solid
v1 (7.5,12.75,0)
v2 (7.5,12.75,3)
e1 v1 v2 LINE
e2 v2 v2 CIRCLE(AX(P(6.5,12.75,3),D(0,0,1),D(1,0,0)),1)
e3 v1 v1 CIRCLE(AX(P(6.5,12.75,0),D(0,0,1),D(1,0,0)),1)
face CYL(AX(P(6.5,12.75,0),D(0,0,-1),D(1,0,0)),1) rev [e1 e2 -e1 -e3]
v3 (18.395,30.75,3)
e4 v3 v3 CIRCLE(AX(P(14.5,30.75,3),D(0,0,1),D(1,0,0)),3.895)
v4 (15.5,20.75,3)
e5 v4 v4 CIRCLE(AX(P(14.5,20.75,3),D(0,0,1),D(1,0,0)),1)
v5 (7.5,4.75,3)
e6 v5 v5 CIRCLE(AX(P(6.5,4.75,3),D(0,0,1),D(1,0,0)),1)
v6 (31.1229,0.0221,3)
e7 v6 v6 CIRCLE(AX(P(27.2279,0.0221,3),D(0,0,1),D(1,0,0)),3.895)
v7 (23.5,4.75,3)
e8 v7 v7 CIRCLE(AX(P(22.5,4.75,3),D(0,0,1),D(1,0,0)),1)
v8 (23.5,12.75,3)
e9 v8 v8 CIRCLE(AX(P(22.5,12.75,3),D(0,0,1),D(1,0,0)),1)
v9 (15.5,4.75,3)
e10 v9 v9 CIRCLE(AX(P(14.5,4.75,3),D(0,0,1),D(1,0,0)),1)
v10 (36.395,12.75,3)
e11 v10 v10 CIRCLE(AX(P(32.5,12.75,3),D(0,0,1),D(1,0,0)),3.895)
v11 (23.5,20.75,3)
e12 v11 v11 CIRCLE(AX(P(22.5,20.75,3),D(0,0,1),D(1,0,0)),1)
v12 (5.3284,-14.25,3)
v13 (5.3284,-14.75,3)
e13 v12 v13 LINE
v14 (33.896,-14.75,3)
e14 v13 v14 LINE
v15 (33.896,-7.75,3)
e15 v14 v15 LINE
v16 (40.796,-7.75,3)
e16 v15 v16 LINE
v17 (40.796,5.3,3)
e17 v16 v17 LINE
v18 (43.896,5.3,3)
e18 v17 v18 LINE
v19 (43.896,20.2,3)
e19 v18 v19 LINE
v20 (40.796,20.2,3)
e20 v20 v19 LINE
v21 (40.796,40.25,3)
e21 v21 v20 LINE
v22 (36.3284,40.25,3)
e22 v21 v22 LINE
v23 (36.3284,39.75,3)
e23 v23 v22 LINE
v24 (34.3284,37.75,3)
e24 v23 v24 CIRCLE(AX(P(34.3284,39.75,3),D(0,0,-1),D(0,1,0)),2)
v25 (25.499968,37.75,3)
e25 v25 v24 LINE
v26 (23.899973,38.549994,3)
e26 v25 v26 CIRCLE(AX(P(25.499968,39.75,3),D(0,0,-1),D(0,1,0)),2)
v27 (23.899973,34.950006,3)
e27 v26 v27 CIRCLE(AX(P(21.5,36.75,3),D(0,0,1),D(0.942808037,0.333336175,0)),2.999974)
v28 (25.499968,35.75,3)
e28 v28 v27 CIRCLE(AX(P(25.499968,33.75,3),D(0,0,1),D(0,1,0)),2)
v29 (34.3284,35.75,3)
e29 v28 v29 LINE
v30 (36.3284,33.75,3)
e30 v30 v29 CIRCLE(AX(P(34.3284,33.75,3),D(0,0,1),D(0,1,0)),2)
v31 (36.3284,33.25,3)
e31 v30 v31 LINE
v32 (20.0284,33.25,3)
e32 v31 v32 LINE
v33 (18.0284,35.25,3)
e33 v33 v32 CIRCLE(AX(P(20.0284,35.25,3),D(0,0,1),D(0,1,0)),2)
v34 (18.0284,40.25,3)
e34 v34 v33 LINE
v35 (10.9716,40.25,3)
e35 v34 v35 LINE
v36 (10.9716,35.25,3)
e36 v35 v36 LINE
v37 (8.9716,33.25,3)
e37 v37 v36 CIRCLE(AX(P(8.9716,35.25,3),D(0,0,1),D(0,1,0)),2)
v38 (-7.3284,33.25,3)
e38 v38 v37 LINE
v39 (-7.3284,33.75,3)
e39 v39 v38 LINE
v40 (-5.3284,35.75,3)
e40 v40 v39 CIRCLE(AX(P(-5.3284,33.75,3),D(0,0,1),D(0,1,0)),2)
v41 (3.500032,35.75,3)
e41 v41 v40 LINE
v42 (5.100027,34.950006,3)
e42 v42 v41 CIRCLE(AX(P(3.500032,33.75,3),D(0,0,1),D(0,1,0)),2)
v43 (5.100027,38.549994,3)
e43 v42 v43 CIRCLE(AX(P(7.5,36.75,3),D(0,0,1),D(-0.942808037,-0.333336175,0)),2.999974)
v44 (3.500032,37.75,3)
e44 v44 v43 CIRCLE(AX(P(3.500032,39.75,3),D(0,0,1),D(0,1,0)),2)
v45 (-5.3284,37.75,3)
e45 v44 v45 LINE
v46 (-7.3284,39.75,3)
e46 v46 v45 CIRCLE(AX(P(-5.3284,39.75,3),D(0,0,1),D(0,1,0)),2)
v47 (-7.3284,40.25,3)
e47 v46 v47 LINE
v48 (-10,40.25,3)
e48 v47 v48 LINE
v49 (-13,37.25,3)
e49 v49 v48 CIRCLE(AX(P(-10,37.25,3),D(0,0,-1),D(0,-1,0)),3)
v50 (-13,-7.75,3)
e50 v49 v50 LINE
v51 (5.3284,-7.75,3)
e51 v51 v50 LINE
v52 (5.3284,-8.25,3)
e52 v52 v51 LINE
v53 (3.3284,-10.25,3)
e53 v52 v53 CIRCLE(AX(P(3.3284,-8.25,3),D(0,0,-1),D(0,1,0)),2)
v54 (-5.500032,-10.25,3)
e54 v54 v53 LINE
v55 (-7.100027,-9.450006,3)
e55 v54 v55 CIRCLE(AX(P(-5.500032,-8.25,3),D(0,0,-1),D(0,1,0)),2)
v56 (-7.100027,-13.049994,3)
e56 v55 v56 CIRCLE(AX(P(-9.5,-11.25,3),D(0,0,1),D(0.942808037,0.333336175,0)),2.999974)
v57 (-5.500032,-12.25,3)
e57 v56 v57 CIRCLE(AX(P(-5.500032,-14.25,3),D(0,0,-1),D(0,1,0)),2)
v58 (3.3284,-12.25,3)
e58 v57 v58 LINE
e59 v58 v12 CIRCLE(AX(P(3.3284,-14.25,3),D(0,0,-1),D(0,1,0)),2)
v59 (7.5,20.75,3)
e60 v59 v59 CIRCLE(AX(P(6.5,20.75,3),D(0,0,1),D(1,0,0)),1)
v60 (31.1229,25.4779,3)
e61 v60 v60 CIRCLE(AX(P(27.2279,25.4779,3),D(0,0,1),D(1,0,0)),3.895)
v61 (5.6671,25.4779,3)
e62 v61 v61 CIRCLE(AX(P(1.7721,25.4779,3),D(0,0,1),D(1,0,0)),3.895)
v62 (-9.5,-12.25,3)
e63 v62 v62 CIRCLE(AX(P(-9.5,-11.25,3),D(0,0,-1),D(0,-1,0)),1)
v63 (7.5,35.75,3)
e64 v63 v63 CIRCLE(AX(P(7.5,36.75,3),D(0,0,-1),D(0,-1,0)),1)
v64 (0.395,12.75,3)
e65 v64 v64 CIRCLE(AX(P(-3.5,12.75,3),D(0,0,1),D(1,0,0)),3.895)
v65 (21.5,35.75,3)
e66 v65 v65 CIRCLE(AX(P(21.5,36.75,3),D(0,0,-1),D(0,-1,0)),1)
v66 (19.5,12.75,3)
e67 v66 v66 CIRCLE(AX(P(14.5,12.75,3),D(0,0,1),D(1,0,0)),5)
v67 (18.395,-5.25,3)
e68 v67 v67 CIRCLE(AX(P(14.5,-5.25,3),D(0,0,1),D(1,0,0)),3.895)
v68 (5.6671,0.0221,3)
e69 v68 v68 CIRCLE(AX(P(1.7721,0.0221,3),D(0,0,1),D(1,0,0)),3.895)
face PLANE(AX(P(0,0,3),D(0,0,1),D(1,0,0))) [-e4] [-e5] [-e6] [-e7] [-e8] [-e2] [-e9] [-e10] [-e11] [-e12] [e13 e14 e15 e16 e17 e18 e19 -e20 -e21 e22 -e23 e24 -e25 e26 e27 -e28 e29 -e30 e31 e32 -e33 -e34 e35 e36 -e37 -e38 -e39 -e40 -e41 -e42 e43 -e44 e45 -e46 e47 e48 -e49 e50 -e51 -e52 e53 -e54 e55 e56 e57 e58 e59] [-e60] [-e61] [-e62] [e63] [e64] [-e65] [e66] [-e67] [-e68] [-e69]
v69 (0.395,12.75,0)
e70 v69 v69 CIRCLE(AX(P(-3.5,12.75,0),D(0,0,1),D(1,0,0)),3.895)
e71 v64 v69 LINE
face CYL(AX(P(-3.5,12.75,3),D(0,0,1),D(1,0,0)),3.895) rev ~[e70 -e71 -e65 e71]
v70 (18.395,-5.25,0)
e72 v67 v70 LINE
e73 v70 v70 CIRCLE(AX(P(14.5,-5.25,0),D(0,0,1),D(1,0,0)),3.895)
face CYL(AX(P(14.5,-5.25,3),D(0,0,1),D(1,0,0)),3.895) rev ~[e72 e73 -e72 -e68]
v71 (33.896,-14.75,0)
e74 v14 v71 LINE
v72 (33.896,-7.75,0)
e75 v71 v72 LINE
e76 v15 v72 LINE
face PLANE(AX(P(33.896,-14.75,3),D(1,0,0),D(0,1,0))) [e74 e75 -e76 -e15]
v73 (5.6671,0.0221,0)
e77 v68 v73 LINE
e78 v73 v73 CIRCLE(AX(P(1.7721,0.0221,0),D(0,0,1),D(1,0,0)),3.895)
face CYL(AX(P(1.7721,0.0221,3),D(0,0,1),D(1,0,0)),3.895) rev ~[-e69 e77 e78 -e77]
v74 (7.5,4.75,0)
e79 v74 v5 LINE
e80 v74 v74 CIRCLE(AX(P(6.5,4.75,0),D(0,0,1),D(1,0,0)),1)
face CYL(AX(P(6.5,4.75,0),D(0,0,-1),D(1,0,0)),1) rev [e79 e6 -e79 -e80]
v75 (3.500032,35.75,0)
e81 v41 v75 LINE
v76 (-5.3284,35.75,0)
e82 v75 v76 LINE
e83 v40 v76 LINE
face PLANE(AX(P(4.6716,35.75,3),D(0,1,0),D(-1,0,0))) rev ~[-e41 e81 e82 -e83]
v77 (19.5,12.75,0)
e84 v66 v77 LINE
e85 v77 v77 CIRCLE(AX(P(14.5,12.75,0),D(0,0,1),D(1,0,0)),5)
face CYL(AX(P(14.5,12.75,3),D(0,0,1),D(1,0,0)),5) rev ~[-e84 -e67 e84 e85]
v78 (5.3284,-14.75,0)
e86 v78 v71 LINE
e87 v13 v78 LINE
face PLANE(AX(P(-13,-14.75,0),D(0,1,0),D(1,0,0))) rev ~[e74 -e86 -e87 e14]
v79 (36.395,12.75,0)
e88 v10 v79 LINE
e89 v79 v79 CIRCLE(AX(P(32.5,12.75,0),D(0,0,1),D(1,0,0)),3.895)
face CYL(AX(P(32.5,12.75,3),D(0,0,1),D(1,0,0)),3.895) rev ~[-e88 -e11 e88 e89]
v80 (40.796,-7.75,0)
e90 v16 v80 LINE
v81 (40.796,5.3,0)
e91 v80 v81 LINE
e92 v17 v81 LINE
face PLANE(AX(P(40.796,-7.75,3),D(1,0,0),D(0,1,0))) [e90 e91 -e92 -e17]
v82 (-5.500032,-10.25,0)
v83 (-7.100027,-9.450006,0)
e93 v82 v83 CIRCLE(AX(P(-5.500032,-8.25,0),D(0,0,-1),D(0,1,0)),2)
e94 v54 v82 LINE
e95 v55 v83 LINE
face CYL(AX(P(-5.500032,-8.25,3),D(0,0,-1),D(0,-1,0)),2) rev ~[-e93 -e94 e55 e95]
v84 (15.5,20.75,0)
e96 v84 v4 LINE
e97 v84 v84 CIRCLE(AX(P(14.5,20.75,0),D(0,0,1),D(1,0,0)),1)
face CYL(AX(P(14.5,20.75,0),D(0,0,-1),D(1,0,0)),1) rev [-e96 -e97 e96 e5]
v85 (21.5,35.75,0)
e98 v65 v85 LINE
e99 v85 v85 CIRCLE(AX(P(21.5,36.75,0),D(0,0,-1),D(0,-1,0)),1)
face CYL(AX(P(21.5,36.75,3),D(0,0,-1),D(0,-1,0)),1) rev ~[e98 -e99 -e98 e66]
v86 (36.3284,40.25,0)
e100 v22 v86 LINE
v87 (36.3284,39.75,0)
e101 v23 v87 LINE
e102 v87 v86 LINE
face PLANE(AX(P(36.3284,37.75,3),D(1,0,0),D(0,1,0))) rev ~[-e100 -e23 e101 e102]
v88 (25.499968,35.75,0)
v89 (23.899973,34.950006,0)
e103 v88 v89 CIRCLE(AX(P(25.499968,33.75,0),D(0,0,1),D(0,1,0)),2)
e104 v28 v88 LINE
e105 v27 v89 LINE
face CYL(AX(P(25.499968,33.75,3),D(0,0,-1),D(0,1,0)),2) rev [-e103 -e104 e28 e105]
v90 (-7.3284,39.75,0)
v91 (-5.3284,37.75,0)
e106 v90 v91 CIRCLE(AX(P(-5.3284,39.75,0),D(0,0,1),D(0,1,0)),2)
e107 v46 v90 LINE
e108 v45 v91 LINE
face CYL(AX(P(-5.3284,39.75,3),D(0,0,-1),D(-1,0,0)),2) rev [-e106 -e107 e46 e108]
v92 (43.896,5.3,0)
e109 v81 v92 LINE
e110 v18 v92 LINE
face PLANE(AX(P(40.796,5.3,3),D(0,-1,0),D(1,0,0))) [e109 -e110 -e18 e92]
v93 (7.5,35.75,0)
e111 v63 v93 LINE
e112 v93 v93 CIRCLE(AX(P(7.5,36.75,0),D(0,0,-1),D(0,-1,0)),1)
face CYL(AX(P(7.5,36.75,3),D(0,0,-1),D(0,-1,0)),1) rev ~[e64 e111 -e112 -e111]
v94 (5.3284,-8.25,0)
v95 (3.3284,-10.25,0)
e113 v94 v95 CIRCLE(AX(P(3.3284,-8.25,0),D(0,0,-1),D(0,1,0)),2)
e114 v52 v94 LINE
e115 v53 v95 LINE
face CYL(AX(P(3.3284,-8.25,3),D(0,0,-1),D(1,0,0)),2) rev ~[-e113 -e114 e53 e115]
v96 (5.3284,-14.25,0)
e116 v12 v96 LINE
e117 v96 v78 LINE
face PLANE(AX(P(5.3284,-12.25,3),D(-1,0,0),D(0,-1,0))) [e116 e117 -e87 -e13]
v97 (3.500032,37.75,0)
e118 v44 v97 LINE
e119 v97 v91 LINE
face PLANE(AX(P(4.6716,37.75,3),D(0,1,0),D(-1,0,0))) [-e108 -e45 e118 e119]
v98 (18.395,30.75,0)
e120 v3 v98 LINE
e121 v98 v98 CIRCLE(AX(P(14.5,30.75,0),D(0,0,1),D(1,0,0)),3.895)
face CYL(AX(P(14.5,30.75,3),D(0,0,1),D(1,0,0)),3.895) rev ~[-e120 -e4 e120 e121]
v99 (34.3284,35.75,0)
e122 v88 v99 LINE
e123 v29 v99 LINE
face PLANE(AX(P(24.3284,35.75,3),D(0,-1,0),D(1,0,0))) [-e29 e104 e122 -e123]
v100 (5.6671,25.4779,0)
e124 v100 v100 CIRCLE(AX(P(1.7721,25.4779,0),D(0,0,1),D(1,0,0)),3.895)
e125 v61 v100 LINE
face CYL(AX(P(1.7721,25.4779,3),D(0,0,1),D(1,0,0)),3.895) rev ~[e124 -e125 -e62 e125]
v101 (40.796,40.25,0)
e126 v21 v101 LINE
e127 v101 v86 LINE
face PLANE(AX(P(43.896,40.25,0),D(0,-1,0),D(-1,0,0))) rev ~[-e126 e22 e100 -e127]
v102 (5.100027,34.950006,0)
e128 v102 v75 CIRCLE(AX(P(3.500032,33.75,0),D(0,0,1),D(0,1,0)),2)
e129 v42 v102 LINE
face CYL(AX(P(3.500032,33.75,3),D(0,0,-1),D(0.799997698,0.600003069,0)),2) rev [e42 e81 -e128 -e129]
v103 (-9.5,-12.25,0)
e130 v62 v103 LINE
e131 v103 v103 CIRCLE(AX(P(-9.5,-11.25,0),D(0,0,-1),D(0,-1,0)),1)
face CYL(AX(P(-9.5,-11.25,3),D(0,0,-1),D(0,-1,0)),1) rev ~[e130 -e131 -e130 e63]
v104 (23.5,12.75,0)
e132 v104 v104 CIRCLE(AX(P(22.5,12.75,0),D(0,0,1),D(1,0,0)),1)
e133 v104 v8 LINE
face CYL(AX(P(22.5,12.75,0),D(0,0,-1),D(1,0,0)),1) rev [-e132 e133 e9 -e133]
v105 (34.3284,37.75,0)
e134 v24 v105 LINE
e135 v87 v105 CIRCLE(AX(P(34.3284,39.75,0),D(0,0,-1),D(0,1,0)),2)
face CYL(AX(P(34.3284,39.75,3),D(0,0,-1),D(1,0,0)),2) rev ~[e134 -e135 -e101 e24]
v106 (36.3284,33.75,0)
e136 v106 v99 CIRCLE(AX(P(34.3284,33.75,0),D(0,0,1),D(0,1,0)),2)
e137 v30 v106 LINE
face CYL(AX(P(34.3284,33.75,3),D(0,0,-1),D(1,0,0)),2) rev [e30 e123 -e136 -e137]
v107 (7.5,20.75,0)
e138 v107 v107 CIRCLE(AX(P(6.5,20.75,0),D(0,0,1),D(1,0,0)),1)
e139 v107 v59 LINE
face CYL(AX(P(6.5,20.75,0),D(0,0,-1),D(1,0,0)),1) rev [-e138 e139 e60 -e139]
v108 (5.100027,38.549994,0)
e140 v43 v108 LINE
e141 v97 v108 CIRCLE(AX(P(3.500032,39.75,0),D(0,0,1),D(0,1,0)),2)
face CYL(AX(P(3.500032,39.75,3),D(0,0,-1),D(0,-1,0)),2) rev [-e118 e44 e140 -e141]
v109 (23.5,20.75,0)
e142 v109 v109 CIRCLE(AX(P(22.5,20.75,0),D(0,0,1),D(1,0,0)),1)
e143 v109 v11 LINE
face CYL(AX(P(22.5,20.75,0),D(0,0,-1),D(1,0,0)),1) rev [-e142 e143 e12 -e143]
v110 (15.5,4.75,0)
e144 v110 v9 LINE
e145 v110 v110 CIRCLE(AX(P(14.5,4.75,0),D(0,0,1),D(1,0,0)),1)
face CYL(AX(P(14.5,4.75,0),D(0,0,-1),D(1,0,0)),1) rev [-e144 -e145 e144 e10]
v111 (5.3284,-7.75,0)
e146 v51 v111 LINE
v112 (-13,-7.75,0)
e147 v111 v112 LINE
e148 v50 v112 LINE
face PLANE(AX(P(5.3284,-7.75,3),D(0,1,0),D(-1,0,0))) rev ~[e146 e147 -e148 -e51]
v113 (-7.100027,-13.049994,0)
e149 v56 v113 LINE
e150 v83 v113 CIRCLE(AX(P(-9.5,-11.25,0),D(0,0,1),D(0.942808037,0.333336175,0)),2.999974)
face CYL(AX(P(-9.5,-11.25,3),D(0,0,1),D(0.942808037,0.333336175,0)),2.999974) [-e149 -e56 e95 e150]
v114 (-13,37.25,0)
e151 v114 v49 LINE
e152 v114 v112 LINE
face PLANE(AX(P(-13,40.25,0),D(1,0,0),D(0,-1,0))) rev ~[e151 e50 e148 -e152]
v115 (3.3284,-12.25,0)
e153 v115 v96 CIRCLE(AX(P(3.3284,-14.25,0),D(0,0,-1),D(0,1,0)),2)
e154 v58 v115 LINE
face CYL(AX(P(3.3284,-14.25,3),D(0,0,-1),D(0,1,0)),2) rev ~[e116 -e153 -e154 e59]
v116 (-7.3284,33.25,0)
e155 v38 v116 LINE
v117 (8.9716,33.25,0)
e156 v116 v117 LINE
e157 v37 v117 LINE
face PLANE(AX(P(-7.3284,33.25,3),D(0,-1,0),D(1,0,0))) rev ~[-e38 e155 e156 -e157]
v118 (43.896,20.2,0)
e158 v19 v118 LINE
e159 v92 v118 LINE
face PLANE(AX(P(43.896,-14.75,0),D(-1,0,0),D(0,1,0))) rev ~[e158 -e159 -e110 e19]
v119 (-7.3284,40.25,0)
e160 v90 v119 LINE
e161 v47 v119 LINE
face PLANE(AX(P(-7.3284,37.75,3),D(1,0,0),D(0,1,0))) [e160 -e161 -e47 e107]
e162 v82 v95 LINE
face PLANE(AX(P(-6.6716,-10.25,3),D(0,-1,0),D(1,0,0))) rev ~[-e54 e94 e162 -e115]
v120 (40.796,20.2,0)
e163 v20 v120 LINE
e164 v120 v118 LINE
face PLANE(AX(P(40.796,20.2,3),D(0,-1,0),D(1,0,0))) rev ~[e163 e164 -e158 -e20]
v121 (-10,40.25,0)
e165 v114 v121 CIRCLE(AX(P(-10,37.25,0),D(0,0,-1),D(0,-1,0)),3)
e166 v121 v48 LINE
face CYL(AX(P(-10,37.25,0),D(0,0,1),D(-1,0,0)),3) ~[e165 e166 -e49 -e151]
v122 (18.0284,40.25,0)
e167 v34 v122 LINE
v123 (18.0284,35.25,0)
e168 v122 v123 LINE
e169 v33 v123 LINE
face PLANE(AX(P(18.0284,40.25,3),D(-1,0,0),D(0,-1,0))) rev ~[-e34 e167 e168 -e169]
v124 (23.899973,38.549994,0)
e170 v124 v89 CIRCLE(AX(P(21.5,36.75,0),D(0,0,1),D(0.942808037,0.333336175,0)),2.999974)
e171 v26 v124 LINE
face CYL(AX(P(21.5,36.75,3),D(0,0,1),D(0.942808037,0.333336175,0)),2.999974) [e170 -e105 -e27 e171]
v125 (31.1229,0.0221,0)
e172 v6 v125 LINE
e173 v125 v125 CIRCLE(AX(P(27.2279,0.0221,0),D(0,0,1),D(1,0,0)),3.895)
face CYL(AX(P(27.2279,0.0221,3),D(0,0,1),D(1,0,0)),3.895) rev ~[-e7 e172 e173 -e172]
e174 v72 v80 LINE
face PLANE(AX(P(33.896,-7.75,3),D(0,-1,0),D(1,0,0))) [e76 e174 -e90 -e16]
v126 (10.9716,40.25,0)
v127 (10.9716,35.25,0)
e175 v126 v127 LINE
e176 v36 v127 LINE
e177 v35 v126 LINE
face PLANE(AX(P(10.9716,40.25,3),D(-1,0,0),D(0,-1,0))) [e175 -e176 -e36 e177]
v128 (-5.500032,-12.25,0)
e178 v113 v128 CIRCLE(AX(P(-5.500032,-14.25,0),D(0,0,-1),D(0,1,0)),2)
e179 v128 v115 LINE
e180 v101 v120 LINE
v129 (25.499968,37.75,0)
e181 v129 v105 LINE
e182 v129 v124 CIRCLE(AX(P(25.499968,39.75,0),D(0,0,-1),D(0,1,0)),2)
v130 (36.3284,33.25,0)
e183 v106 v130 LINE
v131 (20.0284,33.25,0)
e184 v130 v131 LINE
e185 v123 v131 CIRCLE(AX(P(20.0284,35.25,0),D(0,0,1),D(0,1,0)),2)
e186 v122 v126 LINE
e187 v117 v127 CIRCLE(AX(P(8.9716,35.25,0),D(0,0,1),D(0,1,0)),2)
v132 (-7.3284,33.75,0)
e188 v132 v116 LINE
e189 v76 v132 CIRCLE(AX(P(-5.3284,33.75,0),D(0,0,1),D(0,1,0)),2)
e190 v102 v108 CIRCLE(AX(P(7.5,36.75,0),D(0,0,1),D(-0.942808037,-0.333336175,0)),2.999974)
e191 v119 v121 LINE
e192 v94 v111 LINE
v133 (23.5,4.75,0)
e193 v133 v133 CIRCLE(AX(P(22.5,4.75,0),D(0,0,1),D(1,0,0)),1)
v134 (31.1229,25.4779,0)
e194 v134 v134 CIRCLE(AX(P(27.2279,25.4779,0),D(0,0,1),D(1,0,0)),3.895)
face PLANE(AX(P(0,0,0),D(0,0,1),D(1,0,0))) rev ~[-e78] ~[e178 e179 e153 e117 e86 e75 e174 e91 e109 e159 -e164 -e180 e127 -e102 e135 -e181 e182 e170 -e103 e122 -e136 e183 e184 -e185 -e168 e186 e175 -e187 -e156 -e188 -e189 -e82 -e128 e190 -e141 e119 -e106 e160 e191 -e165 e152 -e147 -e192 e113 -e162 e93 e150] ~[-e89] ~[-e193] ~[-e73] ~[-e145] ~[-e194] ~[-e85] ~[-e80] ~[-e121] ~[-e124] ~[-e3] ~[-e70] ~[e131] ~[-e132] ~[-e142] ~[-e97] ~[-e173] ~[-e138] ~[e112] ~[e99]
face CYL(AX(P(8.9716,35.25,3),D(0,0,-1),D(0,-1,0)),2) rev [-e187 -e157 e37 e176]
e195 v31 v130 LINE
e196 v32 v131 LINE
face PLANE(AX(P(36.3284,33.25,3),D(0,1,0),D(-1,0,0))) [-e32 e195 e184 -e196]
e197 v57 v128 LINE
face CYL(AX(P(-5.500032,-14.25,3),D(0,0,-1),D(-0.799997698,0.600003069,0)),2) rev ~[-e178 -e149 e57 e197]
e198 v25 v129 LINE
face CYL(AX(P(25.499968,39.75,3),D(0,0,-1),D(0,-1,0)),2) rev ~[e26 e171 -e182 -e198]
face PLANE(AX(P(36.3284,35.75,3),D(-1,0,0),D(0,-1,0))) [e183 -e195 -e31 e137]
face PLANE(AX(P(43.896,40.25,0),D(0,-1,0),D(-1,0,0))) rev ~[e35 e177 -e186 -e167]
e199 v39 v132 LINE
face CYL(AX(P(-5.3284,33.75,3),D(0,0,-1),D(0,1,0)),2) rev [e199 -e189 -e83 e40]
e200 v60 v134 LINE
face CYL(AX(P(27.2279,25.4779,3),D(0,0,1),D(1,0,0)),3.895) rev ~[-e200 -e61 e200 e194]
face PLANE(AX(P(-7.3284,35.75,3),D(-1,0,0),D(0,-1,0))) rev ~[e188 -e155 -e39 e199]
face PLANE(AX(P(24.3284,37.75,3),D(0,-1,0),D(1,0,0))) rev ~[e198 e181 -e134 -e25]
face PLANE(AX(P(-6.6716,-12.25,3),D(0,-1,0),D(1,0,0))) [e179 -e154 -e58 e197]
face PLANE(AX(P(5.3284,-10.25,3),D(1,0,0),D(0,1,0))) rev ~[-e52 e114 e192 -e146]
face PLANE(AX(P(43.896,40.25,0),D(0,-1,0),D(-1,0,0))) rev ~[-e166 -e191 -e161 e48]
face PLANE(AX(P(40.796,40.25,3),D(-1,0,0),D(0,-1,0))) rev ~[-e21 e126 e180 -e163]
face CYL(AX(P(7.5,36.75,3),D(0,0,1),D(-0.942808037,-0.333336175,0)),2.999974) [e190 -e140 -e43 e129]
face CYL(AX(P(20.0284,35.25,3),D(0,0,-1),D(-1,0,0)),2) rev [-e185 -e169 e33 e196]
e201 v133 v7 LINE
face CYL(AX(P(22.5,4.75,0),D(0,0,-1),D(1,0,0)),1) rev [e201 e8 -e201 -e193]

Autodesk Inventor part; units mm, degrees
ref_plane "YZ Plane" through (0, 0, 0) normal (1, 0, 0) x (0, 1, 0)
ref_plane "XZ Plane" through (0, 0, 0) normal (0, 1, 0) x (-1, 0, 0)
ref_plane "XY Plane" through (0, 0, 0) normal (0, 0, 1) x (1, 0, 0)
ref_plane "Work Plane1" through (0, 0, 0) normal (0, 0, 1) x (1, 0, 0)
sketch "Sketch1" plane through (0, 0, 0) normal (0, 0, 1) x (1, 0, 0)
  circle A0 centre (6.5, 20.75) radius 1
  circle A1 centre (6.5, 4.75) radius 1
  circle A2 centre (22.5, 20.75) radius 1
  circle A3 centre (22.5, 4.75) radius 1
  line L0 (-13, -14.75) -> (43.896, -14.75)
  line L1 (43.896, -14.75) -> (43.896, 40.25)
  line L2 (43.896, 40.25) -> (-13, 40.25)
  line L3 (-13, 40.25) -> (-13, -14.75)
  circle A4 centre (22.5, 12.75) radius 1 projected
  circle A5 centre (14.5, 20.75) radius 1 projected
  circle A6 centre (14.5, 4.75) radius 1 projected
  circle A7 centre (6.5, 12.75) radius 1 projected
  point P0 (0, 0)
  point P1 (14.5, 12.75)
  dimension "d1" = 55
  dimension "d102" = 29.396
  dimension "d103" = 27.5
  dimension "d107" = 2
  dimension "d108" = 2
  dimension "d109" = 2
  dimension "d110" = 2
extrude "Extrusion3" add sketch "Sketch1" along normal blind 3
sketch "Sketch4" plane through (0, 0, 3) normal (0, 0, 1) x (1, 0, 0)
  line L0 (42, 40.25) -> (-13, 40.25) construction
  line L1 (14.5, 40.25) -> (14.5, 12.75) construction
  line L2 (-13, -14.75) -> (42, -14.75) construction
  line L3 (-13, 40.25) -> (-13, -14.75) construction
  line L4 (-13, 12.75) -> (14.5, 12.75) construction
  circle A0 centre (14.5, 30.75) radius 3.895
  circle A1 centre (1.7721, 25.4779) radius 3.895
  circle A2 centre (-3.5, 12.75) radius 3.895
  circle A3 centre (1.7721, 0.0221) radius 3.895
  circle A4 centre (14.5, -5.25) radius 3.895
  circle A5 centre (27.2279, 0.0221) radius 3.895
  circle A6 centre (32.5, 12.75) radius 3.895
  circle A7 centre (27.2279, 25.4779) radius 3.895
  arc A8 (4.6716, 35.75) -> (4.6716, 37.75) centre (7.5, 36.75) ccw
  line L5 (42, 40.25) -> (-13, 40.25)
  line L6 (7.5, 36.75) -> (-13, 36.75) construction
  line L7 (4.6716, 37.75) -> (-7.3284, 37.75)
  line L8 (4.6716, 35.75) -> (-7.3284, 35.75)
  line L9 (-7.3284, 37.75) -> (-7.3284, 40.25)
  line L10 (10.9716, 40.25) -> (-7.3284, 40.25)
  line L11 (-7.3284, 35.75) -> (-7.3284, 33.25)
  line L12 (-7.3284, 33.25) -> (10.9716, 33.25)
  line L13 (10.9716, 40.25) -> (10.9716, 33.25)
  arc A9 (24.3284, 37.75) -> (24.3284, 35.75) centre (21.5, 36.75) ccw
  line L14 (24.3284, 37.75) -> (36.3284, 37.75)
  line L15 (24.3284, 35.75) -> (36.3284, 35.75)
  line L16 (36.3284, 37.75) -> (36.3284, 40.25)
  line L17 (18.0284, 40.25) -> (36.3284, 40.25)
  line L18 (36.3284, 35.75) -> (36.3284, 33.25)
  line L19 (36.3284, 33.25) -> (18.0284, 33.25)
  line L20 (18.0284, 40.25) -> (18.0284, 33.25)
  arc A10 (-6.6716, -10.25) -> (-6.6716, -12.25) centre (-9.5, -11.25) ccw
  line L21 (-9.5, -11.25) -> (8.4531, -11.25) construction
  line L22 (-6.6716, -10.25) -> (5.3284, -10.25)
  line L23 (-6.6716, -12.25) -> (5.3284, -12.25)
  line L24 (5.3284, -12.25) -> (5.3284, -14.75)
  line L25 (5.3284, -10.25) -> (5.3284, -7.75)
  line L26 (5.3284, -7.75) -> (-13, -7.75)
  line L27 (-13, -14.75) -> (-13, -7.75)
  line L28 (-13, -14.75) -> (5.3284, -14.75)
  circle A11 centre (14.5, 12.75) radius 5
  point P0 (0, 0)
  dimension "d24" = 7.79
  dimension "d25" = 18
  dimension "d28" = 360
  dimension "d63" = 6
  dimension "d64" = 7
  dimension "d65" = 12
  dimension "d66" = 18.3
  dimension "d67" = 2.5
  dimension "d68" = 3.5
  dimension "d71" = 1
  dimension "d74" = 6
  dimension "d75" = 3.5
  dimension "d76" = 3.5
  dimension "d77" = 12
  dimension "d78" = 1
  dimension "d79" = 2.5
  dimension "d105" = 10
extrude "Extrusion2" cut sketch "Sketch4" against normal through all
hole "Hole4" at (7.5, 36.75, 3) at (21.5, 36.75, 3) at (-9.5, -11.25, 3) direction (0, 0, -1) diameter 2 end through all
fillet "Fillet3" radius 2 14 edges at (-7.3284, 35.75, 1.5) (-7.3284, 37.75, 1.5) (4.6716, 37.75, 1.5) (4.6716, 35.75, 1.5) (10.9716, 33.25, 1.5) (24.3284, 37.75, 1.5) (24.3284, 35.75, 1.5) (36.3284, 37.75, 1.5) (36.3284, 35.75, 1.5) (18.0284, 33.25, 1.5) (5.3284, -10.25, 1.5) (5.3284, -12.25, 1.5) (-6.6716, -10.25, 1.5) (-6.6716, -12.25, 1.5)
sketch "Sketch6" plane through (0, 0, 3) normal (0, 0, 1) x (1, 0, 0)
  line L0 (43.896, 40.25) -> (36.3284, 40.25) projected
  line L1 (43.896, 40.25) -> (40.796, 40.25)
  line L2 (40.796, 40.25) -> (40.796, 20.2)
  line L3 (40.796, 20.2) -> (43.896, 20.2)
  line L4 (43.896, 20.2) -> (43.896, 40.25)
  line L5 (43.896, -14.75) -> (43.896, 40.25) construction
  line L6 (43.896, 12.75) -> (-13, 12.75) construction
  line L7 (-13, 40.25) -> (-13, -7.75) construction
  line L8 (43.896, -14.75) -> (40.796, -14.75)
  line L9 (40.796, -7.75) -> (40.796, 5.3)
  line L10 (40.796, 5.3) -> (43.896, 5.3)
  line L11 (43.896, 5.3) -> (43.896, -14.75)
  line L12 (43.896, -14.75) -> (33.896, -14.75)
  line L13 (33.896, -14.75) -> (33.896, -7.75)
  line L14 (33.896, -7.75) -> (40.796, -7.75)
  line L15 (43.896, -7.75) -> (43.896, -14.75)
  point P0 (0, 0)
  dimension "d96" = 3.1
  dimension "d97" = 20.05
  dimension "d100" = 10
  dimension "d101" = 7
extrude "Extrusion4" cut sketch "Sketch6" against normal through all
fillet "Fillet4" radius 3 1 edges at (-13, 40.25, 1.5)
equation "\"d38\" = d24"
properties part number "Side"
